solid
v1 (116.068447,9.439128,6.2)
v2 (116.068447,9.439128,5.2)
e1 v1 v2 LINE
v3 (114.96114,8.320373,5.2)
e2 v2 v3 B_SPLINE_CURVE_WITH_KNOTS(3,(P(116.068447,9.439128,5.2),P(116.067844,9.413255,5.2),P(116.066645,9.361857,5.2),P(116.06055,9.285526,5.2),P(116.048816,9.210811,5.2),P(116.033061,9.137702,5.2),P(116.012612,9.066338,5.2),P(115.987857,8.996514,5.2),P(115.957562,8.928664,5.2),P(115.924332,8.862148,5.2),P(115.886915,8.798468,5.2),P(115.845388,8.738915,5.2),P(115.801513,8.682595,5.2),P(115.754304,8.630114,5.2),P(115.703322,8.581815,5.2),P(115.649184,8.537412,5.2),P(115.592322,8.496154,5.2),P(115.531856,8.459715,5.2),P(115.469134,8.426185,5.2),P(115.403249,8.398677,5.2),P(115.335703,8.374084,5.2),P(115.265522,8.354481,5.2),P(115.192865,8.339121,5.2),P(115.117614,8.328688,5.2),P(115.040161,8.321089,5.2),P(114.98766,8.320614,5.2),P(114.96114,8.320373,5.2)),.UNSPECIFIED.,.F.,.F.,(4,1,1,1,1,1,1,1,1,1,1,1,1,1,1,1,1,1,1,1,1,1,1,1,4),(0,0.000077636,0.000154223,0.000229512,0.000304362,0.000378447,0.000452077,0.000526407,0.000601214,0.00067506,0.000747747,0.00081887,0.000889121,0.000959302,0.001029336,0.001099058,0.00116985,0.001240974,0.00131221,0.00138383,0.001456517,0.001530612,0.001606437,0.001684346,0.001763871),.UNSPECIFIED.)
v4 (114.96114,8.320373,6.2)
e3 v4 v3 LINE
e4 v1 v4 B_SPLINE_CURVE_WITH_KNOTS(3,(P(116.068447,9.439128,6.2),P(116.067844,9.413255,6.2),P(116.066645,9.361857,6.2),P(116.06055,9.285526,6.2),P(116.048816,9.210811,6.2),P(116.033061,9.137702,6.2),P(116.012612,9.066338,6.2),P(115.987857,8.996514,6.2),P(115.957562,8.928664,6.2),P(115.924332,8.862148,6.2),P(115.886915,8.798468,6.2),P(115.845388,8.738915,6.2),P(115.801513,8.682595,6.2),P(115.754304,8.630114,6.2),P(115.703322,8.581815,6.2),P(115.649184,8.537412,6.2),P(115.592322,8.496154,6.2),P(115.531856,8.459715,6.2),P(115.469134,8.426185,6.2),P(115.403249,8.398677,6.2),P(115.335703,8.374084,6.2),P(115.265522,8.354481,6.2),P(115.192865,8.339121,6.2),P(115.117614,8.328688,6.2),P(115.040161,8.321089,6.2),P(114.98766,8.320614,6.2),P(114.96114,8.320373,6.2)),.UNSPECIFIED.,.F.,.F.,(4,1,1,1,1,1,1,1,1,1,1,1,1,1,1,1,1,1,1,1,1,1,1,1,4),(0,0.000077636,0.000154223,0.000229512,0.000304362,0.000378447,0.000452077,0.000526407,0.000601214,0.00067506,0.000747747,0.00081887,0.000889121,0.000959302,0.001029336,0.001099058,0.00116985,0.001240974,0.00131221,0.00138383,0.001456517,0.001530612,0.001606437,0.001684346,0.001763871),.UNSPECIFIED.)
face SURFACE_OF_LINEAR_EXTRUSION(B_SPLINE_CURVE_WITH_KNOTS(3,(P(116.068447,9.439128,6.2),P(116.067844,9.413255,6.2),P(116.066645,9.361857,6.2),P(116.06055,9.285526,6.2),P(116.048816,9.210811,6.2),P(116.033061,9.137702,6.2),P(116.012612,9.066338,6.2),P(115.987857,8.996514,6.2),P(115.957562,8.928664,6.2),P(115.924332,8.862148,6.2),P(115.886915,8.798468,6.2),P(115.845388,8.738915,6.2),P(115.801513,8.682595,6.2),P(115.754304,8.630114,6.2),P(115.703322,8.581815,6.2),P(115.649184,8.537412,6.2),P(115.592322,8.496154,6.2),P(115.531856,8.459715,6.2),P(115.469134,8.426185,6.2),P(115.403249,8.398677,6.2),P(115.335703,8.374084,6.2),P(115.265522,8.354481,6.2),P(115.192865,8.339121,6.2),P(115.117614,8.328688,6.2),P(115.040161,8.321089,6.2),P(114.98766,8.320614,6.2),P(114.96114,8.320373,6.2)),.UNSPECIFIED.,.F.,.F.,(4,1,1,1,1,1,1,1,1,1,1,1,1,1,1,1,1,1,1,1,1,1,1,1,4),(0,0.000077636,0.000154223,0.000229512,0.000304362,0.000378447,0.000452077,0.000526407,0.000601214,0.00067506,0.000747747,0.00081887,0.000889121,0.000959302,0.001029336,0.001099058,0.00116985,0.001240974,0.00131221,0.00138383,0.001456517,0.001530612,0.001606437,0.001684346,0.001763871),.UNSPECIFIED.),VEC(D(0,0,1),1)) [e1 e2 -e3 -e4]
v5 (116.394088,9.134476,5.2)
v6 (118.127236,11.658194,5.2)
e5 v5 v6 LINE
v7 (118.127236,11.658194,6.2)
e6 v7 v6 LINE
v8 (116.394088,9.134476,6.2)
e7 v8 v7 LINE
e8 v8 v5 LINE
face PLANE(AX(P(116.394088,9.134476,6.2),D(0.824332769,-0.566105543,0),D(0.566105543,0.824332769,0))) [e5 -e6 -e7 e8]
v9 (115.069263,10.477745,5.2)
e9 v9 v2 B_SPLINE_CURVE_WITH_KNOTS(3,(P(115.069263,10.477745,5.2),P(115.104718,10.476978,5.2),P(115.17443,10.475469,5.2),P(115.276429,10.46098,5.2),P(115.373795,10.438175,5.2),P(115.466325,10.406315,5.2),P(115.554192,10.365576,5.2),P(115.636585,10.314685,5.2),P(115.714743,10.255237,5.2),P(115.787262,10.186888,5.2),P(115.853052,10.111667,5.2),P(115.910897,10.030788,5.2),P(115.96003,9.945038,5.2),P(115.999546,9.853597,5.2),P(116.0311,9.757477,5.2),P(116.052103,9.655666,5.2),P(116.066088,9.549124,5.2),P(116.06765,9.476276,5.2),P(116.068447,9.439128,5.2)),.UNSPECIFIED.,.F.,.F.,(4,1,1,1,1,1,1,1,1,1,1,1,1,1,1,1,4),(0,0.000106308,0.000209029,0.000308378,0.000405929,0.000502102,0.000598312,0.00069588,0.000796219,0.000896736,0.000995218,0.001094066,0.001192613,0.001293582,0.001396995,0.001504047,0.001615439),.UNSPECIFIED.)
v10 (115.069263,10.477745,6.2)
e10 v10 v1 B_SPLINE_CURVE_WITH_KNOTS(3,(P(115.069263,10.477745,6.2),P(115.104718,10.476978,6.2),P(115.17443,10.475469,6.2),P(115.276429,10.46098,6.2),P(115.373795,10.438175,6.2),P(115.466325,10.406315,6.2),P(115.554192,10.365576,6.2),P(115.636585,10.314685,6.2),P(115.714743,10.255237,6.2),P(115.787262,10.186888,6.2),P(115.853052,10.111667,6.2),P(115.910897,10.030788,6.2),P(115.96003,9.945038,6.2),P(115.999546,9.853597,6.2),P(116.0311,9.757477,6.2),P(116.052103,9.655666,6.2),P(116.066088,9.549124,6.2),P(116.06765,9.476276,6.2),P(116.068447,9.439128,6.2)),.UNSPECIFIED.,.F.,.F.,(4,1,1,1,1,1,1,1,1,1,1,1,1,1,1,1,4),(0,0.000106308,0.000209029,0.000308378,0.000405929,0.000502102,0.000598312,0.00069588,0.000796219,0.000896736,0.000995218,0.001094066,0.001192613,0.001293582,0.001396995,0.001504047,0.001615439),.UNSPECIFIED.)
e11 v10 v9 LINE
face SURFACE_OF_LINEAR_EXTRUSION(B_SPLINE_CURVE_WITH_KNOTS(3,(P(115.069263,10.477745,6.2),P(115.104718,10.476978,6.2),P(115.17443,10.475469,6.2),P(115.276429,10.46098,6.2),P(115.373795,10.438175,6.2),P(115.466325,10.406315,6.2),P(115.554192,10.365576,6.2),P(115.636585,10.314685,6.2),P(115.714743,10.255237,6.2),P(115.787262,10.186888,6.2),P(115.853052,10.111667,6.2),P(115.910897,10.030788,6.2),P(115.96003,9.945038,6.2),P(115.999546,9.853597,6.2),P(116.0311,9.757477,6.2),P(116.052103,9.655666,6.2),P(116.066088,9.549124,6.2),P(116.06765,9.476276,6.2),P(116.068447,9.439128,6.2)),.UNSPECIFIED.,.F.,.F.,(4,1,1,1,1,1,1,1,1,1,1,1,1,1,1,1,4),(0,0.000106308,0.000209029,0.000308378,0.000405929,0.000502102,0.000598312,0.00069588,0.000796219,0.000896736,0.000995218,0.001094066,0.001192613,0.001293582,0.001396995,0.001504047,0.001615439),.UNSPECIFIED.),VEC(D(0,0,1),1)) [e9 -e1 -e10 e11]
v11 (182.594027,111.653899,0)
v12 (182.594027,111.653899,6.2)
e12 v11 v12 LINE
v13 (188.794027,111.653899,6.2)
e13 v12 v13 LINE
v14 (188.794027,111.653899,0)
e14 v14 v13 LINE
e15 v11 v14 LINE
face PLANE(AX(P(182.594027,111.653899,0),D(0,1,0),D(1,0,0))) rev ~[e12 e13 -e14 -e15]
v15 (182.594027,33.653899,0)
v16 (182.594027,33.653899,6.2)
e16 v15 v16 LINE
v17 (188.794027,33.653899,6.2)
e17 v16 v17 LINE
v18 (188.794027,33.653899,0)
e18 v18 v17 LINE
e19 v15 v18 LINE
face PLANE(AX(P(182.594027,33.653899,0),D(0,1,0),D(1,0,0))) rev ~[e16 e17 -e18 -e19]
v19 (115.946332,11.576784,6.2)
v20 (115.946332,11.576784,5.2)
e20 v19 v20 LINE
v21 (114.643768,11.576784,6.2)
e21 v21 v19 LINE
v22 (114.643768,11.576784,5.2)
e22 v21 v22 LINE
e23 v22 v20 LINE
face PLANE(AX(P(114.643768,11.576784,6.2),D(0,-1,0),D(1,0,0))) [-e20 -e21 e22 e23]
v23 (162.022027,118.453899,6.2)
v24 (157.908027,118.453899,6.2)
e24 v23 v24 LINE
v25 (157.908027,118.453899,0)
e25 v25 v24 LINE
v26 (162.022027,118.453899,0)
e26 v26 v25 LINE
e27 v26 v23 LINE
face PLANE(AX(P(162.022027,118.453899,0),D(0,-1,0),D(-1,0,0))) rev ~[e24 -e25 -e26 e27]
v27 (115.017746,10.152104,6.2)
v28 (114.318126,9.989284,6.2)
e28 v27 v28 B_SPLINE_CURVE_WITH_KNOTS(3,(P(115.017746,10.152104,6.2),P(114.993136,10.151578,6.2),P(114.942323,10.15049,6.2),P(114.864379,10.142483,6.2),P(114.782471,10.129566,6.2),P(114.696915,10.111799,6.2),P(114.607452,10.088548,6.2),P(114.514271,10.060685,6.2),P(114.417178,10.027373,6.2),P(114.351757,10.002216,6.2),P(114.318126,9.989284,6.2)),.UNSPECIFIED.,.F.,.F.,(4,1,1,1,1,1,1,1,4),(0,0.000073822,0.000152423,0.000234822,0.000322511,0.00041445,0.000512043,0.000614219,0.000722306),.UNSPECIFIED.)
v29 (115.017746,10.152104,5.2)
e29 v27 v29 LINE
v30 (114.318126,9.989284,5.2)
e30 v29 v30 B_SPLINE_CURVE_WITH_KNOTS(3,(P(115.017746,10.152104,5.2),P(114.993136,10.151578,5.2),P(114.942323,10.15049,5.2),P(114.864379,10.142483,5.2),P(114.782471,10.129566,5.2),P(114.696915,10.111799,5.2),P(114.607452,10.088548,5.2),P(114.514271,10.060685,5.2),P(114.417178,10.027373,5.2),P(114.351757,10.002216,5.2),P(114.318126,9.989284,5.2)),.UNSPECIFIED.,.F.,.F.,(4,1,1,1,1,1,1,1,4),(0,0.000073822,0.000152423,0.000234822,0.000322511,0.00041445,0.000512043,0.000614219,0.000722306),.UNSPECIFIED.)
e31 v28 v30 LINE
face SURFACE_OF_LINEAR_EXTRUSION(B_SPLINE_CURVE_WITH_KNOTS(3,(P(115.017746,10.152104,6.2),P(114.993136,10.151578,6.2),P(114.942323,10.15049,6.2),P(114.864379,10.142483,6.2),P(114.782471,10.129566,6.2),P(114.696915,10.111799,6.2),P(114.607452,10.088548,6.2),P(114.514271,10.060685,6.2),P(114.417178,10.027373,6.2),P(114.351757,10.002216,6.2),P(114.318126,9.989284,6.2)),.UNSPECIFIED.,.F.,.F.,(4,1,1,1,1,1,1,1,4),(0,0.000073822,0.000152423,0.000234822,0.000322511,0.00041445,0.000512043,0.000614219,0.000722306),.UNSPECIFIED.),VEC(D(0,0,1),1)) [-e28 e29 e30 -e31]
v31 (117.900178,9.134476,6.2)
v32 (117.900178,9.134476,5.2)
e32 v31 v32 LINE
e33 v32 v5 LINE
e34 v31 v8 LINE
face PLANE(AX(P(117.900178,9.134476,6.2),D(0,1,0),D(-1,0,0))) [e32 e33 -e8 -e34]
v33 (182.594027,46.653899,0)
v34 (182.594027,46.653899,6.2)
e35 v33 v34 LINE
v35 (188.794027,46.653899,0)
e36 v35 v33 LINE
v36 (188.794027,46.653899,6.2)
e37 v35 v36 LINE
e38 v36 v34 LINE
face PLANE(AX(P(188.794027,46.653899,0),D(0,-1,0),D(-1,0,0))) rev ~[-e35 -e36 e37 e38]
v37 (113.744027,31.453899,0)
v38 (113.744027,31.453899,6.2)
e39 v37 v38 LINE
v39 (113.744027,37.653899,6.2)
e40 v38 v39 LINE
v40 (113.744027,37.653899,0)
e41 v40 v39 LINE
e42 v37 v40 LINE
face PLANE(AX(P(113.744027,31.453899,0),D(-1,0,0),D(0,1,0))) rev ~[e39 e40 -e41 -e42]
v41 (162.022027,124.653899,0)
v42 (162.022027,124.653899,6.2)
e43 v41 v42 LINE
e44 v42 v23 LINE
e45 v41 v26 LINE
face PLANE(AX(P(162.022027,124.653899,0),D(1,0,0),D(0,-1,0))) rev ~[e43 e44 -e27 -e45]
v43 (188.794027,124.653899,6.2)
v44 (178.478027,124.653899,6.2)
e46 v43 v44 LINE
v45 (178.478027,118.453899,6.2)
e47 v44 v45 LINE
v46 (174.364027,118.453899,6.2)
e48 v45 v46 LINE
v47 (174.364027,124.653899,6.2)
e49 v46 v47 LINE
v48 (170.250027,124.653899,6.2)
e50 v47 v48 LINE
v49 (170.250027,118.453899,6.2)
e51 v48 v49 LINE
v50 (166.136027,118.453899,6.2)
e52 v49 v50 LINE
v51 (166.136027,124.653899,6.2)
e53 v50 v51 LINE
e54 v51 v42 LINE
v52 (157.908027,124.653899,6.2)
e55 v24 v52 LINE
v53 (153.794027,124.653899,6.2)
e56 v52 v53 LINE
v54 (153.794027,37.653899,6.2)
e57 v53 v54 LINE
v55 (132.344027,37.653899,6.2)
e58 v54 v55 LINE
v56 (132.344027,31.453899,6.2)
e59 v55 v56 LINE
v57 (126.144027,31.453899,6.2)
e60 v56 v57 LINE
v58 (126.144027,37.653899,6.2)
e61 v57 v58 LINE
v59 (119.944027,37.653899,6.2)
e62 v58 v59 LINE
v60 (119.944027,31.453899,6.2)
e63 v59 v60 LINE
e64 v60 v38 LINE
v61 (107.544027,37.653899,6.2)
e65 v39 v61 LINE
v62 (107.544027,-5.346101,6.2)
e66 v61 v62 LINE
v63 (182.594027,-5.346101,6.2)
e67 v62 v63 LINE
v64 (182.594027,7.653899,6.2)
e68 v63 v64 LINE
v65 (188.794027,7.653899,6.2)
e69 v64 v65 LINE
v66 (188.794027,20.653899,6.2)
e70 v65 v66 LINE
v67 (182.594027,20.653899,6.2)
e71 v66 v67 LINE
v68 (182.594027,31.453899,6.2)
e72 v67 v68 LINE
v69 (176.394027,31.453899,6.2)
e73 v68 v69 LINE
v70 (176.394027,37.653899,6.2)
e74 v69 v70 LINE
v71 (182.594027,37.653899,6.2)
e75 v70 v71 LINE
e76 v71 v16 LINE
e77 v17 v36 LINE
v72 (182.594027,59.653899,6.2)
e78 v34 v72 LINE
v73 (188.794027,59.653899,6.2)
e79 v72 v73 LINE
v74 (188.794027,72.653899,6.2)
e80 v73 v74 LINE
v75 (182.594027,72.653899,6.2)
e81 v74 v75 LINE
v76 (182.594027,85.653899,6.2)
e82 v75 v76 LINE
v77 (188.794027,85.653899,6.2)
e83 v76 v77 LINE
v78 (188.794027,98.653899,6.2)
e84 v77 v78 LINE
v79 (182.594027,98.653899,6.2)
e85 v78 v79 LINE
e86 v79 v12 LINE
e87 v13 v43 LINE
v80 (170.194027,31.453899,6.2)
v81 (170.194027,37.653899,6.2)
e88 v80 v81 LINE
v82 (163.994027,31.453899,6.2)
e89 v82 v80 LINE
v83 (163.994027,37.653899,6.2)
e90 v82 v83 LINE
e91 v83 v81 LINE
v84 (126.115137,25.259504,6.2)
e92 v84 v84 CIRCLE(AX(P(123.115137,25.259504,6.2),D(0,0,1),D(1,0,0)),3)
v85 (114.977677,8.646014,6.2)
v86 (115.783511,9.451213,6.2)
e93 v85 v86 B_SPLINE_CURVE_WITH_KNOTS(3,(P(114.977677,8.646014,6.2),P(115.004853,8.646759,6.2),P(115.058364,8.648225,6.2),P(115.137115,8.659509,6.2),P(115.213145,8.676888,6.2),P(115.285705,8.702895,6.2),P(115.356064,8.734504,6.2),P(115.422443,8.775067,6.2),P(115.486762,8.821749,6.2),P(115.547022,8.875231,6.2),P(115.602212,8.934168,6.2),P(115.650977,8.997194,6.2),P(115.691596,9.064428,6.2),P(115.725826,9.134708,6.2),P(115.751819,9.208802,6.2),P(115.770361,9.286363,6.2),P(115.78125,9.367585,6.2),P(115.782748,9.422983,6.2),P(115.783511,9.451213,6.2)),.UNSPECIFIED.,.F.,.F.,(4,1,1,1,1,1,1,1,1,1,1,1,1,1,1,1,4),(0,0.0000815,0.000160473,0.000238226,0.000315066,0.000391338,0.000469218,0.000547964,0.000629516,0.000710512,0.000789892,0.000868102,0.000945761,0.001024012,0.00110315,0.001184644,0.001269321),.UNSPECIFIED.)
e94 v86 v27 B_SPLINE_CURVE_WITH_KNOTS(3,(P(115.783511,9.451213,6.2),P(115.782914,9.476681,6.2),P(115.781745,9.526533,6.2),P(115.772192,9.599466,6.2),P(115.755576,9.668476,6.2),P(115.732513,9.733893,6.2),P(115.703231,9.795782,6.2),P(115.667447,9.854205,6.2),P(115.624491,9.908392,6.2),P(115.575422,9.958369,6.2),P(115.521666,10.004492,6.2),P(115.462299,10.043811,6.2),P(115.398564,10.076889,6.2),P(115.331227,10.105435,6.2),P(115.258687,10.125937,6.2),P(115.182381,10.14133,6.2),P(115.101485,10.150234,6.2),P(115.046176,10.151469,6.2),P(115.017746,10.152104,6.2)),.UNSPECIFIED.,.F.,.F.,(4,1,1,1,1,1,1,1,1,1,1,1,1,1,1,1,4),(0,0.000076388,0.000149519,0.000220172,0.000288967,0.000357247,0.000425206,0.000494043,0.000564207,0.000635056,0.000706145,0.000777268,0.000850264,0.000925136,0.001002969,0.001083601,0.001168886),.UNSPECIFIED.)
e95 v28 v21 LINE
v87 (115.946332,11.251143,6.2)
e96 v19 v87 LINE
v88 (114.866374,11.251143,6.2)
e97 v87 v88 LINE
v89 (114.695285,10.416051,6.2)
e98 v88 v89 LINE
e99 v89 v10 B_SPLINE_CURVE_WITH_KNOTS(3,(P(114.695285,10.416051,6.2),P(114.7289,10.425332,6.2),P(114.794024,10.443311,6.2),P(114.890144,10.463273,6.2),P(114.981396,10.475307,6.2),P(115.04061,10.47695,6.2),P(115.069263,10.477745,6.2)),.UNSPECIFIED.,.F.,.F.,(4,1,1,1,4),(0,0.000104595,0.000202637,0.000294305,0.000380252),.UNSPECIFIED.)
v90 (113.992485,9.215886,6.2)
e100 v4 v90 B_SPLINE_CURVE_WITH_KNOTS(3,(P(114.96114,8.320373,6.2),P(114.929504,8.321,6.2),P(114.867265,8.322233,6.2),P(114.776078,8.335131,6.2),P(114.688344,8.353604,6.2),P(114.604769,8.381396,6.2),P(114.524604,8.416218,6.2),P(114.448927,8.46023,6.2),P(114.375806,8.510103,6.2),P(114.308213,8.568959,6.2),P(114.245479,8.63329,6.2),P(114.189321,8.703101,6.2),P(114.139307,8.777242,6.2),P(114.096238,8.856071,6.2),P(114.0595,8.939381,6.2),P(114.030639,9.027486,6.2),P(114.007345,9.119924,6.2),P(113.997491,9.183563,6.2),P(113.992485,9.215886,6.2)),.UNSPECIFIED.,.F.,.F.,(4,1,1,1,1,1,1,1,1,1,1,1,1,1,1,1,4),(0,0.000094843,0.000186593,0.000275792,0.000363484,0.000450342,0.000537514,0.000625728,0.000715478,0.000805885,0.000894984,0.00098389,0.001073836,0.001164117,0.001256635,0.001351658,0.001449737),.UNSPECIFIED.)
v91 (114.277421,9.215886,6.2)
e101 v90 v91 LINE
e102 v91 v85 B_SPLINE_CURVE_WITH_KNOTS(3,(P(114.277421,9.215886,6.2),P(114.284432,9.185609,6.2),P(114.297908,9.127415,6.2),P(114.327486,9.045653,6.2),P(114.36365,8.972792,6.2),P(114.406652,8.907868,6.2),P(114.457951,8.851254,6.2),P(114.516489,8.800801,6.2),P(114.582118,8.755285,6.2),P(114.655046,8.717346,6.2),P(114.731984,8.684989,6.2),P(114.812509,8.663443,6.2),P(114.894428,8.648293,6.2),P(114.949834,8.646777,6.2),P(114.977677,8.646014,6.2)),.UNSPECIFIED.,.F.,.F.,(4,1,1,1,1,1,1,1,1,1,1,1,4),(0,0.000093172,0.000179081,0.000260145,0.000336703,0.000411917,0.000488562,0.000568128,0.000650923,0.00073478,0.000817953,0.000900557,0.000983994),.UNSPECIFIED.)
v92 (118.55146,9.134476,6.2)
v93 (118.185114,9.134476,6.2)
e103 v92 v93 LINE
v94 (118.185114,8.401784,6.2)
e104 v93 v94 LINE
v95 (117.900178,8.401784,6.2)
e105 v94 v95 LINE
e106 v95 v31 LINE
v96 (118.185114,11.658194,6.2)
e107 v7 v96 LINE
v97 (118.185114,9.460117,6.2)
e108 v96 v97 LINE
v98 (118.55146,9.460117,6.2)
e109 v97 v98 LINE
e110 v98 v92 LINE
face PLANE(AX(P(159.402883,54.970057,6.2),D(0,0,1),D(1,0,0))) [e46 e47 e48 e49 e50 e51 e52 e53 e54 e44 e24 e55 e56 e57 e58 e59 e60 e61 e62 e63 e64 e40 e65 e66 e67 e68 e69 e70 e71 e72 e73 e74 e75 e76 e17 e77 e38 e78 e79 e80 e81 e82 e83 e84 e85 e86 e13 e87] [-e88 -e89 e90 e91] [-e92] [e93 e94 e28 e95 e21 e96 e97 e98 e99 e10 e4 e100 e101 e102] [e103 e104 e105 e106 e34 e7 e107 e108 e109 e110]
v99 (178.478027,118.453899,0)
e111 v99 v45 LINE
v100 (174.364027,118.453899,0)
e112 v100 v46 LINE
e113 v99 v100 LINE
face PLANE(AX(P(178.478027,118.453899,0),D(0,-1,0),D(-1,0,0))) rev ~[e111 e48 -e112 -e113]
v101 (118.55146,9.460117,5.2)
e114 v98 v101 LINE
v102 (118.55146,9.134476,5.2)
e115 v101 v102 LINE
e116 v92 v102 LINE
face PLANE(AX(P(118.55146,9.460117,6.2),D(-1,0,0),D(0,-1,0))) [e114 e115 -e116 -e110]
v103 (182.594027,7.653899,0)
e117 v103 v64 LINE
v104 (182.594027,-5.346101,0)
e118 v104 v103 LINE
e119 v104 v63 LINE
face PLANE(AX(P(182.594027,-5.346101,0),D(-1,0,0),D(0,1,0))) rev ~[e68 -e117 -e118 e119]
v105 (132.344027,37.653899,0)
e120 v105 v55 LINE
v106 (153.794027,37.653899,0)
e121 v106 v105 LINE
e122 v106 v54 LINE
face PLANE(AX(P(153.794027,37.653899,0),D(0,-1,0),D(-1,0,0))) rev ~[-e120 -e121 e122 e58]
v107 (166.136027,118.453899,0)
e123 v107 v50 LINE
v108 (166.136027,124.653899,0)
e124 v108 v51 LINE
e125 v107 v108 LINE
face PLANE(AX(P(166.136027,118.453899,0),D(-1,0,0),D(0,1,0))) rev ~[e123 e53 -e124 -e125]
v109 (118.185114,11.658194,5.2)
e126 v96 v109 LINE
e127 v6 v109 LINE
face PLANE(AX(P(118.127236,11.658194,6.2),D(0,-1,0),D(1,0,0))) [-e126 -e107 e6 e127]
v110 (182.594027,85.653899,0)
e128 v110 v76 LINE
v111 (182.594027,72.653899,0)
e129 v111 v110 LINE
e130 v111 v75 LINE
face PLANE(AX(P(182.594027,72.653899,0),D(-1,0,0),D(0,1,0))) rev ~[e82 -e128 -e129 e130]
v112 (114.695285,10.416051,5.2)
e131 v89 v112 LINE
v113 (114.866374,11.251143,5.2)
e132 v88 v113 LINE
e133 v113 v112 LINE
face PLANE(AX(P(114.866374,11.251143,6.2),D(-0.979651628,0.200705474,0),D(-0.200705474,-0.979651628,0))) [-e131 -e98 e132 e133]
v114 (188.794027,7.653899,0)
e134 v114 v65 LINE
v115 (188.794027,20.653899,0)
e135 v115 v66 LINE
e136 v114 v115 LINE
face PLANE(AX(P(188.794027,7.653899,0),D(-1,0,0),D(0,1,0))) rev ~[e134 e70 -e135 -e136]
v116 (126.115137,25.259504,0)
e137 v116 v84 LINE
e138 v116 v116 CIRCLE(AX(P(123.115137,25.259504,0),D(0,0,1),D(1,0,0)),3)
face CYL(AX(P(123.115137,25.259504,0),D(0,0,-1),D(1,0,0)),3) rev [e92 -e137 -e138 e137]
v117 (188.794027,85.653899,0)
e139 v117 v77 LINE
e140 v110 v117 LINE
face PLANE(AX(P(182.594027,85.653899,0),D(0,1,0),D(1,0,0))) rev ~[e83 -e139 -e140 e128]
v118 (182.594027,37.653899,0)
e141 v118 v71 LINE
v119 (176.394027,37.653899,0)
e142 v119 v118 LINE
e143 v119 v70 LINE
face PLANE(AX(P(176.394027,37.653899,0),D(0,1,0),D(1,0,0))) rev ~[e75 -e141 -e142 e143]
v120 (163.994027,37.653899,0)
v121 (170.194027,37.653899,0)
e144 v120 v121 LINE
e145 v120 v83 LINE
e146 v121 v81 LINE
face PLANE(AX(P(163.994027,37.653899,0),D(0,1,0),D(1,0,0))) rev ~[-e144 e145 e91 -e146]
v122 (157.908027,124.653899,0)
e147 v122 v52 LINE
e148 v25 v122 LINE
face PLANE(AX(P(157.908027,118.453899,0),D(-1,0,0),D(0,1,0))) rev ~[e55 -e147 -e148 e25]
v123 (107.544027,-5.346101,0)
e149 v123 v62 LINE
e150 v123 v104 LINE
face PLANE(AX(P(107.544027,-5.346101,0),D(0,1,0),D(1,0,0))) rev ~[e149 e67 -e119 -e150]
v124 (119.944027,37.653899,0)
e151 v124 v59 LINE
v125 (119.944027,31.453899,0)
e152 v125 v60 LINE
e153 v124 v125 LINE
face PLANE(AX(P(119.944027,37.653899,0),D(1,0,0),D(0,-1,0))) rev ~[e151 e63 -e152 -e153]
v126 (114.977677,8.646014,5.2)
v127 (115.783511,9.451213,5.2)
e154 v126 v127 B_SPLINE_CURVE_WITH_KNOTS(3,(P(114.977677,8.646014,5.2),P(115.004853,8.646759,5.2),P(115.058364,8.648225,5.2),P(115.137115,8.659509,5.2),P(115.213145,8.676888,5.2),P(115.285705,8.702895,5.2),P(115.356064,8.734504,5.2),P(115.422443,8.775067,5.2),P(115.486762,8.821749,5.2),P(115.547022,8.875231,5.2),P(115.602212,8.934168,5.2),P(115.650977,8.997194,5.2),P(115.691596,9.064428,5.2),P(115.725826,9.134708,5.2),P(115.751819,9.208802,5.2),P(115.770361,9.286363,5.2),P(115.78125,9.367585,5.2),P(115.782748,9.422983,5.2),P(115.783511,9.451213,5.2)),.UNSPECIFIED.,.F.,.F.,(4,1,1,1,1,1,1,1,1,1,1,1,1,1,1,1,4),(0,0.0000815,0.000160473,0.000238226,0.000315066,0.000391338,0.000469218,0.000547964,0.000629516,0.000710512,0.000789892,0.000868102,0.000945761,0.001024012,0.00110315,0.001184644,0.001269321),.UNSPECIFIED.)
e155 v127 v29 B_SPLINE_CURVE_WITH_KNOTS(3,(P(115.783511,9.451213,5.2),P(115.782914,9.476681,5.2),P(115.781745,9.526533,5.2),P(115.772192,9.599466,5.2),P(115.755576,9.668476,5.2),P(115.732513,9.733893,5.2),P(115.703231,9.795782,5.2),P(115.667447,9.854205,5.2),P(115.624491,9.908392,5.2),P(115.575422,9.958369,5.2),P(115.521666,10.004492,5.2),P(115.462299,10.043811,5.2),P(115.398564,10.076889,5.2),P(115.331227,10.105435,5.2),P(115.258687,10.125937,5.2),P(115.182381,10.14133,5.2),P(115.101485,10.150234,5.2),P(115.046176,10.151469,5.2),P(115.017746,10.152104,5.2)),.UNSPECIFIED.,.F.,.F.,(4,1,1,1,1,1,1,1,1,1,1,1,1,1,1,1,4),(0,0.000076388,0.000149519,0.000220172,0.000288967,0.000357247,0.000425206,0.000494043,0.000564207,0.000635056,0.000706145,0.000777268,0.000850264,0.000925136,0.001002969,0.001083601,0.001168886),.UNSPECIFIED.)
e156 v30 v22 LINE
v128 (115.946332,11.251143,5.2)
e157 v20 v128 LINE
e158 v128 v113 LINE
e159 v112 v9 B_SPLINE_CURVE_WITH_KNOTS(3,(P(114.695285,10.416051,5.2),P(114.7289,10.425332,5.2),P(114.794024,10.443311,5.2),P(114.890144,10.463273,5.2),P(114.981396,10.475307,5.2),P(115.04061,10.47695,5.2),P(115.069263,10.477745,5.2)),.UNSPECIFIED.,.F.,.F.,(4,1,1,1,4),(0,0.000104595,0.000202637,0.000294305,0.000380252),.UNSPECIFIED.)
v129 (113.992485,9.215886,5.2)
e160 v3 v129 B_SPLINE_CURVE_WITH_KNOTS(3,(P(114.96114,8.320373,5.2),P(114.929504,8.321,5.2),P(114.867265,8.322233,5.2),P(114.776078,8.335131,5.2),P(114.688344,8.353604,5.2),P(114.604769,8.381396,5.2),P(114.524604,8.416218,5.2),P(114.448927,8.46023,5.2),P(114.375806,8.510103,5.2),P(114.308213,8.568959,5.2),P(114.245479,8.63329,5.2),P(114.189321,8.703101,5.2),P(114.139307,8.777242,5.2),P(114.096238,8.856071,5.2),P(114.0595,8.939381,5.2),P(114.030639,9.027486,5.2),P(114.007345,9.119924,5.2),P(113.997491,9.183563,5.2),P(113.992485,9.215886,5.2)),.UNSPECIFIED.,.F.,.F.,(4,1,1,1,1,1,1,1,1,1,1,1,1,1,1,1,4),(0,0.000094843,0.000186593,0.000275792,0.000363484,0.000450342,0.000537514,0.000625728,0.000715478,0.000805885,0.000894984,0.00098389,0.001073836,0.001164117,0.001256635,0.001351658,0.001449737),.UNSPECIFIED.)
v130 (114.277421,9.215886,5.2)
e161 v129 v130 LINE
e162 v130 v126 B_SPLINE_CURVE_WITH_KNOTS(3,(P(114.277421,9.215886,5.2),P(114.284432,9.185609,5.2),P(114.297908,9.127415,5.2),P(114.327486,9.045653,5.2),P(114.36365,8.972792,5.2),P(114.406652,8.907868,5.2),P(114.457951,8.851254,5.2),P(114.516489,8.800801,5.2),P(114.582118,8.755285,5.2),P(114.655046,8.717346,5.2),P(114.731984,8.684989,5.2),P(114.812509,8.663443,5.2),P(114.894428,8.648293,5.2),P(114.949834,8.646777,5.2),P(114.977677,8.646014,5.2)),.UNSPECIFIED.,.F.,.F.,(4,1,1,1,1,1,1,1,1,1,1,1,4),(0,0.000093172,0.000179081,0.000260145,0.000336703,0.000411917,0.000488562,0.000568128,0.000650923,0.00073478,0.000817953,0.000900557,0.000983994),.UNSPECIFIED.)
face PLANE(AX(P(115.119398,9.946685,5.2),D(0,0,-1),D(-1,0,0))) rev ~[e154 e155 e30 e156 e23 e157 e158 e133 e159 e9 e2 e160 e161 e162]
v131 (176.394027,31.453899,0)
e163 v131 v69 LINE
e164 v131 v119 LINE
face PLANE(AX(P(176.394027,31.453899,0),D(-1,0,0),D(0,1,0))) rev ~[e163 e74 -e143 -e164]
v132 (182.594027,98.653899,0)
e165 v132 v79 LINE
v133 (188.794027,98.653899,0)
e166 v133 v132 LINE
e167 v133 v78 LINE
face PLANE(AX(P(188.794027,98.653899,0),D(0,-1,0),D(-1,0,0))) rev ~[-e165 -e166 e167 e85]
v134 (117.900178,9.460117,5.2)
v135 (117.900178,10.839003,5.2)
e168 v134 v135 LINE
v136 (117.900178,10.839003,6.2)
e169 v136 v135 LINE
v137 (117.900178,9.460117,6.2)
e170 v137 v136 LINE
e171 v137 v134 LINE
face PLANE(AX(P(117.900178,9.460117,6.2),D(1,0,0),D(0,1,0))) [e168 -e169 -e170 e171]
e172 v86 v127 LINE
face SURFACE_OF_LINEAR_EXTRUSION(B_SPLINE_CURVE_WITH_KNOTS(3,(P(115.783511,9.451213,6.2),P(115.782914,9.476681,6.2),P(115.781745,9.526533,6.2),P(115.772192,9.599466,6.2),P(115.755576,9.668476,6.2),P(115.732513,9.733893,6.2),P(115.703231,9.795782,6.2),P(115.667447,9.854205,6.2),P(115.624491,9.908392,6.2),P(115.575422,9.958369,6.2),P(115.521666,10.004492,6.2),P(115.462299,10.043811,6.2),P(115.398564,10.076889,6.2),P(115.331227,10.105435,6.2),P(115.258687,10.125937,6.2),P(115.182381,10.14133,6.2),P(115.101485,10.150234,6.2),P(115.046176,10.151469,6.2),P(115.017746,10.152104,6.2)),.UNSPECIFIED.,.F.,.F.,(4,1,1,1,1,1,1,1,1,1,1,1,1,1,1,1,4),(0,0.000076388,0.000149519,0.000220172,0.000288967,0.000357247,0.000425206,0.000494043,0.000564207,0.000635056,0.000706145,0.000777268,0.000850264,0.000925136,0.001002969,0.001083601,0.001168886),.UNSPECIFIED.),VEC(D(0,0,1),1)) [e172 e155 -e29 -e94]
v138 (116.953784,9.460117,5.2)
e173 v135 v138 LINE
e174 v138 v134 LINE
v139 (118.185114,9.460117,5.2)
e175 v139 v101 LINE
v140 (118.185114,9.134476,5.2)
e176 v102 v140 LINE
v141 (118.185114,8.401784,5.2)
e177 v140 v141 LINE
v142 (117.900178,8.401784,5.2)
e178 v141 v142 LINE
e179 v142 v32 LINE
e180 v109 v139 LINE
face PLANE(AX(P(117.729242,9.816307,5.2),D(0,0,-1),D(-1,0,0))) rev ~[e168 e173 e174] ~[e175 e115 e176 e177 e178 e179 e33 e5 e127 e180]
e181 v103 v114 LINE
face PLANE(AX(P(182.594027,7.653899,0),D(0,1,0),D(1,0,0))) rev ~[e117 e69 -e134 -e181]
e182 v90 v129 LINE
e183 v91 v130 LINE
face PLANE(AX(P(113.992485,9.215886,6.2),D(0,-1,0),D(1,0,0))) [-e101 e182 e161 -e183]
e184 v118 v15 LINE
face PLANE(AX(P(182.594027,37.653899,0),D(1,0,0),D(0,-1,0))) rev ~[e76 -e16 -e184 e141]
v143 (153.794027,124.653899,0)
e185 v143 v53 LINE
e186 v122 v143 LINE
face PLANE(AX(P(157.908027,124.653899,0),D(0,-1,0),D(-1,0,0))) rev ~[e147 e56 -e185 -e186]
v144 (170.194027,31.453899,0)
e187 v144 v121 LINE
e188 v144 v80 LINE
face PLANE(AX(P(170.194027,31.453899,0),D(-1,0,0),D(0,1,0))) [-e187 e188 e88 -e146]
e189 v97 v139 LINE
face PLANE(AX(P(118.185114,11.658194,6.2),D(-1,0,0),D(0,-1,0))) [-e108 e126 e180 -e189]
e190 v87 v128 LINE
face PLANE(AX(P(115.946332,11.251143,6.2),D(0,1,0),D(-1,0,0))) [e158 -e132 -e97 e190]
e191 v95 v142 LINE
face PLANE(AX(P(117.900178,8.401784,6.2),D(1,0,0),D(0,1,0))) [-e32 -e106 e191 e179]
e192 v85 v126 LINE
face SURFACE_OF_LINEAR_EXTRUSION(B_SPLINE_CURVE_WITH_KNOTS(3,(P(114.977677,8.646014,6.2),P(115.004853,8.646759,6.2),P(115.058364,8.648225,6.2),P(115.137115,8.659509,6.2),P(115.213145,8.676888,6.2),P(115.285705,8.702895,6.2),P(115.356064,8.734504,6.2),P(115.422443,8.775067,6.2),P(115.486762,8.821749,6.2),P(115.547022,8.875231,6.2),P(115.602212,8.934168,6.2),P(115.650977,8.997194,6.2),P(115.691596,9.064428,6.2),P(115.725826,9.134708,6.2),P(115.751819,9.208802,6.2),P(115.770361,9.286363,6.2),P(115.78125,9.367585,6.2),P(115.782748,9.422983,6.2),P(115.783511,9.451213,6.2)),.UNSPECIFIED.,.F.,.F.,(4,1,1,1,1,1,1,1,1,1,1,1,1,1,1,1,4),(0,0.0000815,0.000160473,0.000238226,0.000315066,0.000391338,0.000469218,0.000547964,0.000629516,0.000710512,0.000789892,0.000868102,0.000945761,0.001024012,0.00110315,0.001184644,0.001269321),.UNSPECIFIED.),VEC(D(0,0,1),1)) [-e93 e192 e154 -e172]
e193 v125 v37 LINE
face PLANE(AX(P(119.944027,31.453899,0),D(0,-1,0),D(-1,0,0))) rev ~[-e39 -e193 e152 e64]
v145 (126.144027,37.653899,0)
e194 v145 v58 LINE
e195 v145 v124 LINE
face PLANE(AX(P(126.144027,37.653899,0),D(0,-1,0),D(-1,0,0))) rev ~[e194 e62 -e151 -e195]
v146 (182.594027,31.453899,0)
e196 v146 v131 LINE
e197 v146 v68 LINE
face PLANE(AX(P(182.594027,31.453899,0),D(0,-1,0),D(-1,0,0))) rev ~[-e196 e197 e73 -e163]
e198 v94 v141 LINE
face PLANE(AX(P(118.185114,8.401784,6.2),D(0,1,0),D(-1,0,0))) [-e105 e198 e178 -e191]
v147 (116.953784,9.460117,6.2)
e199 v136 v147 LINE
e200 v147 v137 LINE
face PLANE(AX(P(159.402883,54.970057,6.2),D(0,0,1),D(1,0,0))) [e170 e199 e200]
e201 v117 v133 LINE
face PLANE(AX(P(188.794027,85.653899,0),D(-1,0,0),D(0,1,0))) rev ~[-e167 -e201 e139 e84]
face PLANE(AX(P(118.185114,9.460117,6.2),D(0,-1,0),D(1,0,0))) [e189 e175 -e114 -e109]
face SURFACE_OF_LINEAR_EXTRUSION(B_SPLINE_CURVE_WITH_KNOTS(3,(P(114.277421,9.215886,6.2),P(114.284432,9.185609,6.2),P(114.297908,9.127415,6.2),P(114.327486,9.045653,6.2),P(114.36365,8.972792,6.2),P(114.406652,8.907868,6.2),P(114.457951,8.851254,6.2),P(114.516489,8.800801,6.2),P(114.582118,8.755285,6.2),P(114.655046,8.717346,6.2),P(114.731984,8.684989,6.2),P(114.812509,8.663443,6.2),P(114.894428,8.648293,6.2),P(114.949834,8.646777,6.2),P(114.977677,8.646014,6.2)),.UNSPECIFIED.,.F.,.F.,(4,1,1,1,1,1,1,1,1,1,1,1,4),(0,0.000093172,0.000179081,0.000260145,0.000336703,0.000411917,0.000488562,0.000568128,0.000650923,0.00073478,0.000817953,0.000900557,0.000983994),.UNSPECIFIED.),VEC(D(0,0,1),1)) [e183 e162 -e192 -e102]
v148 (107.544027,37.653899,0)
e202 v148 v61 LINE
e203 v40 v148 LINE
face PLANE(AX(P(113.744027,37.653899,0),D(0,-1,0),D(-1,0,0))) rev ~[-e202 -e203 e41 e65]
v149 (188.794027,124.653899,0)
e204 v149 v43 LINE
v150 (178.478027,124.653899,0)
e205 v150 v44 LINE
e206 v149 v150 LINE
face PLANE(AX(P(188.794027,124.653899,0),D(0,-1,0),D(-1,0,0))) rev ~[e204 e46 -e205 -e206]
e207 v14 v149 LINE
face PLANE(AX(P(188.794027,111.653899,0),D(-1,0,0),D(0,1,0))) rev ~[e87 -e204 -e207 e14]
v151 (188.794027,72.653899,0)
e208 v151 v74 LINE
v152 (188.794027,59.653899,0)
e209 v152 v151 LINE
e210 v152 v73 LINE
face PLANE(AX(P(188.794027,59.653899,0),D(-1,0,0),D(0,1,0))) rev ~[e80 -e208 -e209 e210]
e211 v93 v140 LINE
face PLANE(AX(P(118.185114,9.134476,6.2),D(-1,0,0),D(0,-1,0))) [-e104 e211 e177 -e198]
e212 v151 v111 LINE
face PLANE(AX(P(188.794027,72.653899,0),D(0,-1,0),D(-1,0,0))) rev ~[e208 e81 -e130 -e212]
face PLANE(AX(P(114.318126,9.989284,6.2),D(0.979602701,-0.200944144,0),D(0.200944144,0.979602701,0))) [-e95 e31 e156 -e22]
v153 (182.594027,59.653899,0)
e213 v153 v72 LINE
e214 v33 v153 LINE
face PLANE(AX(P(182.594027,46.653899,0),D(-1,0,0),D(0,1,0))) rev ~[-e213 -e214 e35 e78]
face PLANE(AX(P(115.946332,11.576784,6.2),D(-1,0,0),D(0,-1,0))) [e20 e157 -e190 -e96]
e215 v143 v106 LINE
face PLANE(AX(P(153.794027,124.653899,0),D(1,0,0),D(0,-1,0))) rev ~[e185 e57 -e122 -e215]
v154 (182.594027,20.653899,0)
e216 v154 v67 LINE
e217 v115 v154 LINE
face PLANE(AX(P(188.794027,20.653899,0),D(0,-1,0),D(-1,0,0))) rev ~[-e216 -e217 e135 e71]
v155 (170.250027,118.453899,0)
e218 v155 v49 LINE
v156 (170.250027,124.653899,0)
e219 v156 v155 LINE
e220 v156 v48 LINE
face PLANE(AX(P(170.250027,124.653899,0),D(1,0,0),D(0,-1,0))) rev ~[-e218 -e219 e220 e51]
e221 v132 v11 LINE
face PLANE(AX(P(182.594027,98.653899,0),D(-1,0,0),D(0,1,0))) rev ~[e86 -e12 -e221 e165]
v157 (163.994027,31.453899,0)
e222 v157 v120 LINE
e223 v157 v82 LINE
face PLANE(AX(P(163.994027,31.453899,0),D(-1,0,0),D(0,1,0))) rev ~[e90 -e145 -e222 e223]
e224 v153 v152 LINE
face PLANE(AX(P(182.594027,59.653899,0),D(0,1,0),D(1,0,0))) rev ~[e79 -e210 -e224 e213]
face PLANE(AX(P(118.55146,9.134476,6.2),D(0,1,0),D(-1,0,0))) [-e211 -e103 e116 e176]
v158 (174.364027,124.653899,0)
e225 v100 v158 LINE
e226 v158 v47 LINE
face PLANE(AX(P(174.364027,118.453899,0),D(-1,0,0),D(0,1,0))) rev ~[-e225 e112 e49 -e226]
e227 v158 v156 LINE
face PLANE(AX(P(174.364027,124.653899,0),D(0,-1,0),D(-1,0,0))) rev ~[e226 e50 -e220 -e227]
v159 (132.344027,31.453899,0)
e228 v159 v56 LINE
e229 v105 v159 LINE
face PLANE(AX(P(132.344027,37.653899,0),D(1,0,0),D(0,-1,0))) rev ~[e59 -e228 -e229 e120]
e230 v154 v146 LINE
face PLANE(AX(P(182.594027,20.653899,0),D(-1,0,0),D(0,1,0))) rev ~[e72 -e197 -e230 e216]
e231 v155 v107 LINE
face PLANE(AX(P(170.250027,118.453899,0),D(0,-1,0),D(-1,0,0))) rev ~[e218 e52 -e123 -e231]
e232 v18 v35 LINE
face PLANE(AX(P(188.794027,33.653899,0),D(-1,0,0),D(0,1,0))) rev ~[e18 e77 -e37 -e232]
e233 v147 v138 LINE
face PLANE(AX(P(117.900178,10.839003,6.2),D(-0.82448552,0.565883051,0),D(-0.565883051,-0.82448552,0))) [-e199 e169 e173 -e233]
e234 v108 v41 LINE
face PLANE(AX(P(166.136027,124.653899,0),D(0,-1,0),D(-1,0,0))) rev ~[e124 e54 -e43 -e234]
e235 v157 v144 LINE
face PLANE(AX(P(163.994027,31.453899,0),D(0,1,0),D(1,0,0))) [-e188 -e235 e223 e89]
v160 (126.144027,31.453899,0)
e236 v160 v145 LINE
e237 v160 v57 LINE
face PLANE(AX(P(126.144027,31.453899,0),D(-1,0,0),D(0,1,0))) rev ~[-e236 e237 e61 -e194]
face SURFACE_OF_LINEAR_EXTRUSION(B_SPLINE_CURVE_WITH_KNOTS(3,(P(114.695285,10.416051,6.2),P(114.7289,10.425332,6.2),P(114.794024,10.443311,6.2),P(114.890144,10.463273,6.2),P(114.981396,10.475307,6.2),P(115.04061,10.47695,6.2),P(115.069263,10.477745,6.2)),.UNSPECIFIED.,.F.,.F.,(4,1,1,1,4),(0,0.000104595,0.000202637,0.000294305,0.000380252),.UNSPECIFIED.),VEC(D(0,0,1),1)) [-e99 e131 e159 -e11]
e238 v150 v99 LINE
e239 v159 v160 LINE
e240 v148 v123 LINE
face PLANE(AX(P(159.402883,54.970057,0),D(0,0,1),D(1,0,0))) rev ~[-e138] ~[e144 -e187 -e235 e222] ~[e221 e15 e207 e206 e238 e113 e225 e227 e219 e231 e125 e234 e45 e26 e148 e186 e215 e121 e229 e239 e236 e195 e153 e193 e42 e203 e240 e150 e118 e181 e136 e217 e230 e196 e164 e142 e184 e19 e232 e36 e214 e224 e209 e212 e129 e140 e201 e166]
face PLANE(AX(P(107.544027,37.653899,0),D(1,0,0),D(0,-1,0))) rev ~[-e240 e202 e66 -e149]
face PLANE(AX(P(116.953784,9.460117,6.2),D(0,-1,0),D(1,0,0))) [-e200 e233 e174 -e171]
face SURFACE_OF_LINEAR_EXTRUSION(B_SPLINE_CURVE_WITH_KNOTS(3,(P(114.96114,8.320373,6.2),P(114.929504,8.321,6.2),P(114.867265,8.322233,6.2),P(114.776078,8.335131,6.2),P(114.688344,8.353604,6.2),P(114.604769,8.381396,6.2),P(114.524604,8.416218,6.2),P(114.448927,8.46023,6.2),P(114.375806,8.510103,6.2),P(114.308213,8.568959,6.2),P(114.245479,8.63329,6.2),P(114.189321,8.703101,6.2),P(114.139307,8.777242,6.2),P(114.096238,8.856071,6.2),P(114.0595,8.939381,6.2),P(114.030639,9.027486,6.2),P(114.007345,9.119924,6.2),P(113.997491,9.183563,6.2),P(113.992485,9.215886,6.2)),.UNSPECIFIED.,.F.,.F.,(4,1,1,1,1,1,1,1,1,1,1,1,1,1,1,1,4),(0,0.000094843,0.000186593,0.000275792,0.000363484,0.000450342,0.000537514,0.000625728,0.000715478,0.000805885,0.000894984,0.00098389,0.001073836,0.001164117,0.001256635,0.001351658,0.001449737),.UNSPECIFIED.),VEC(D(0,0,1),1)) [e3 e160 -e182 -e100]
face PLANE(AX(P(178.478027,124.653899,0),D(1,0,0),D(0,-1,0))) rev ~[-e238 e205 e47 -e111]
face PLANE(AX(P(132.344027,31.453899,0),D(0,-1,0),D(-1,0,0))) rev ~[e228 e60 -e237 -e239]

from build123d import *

# Parameters (mm, degrees)
SKETCH6_R           = 3
SKETCH6_W           = 6.2
SKETCH6_H           = 6.2
BOSS_EXTRUDE4_DEPTH = 6.2
CUT_EXTRUDE3_DEPTH  = 1


with BuildPart() as part:
    # Sketch6 → Boss-Extrude4 (new body)
    with BuildSketch(Plane.XY):
        Polygon((157.908027241, 124.653899243), (153.794027241, 124.653899243), (153.794027241, 37.653899243), (132.344027241, 37.653899243), (132.344027241, 31.453899243), (126.144027241, 31.453899243), (126.144027241, 37.653899243), (119.944027241, 37.653899243), (119.944027241, 31.453899243), (113.744027241, 31.453899243), (113.744027241, 37.653899243), (107.544027241, 37.653899243), (107.544027241, -5.346100757), (182.594027241, -5.346100757), (182.594027241, 7.653899243), (188.794027241, 7.653899243), (188.794027241, 20.653899243), (182.594027241, 20.653899243), (182.594027241, 31.453899243), (176.394027241, 31.453899243), (176.394027241, 37.653899243), (182.594027241, 37.653899243), (182.594027241, 33.653899243), (188.794027241, 33.653899243), (188.794027241, 46.653899243), (182.594027241, 46.653899243), (182.594027241, 59.653899243), (188.794027241, 59.653899243), (188.794027241, 72.653899243), (182.594027241, 72.653899243), (182.594027241, 85.653899243), (188.794027241, 85.653899243), (188.794027241, 98.653899243), (182.594027241, 98.653899243), (182.594027241, 111.653899243), (188.794027241, 111.653899243), (188.794027241, 124.653899243), (178.478027241, 124.653899243), (178.478027241, 118.453899243), (174.364027241, 118.453899243), (174.364027241, 124.653899243), (170.250027241, 124.653899243), (170.250027241, 118.453899243), (166.136027241, 118.453899243), (166.136027241, 124.653899243), (162.022027241, 124.653899243), (162.022027241, 118.453899243), (157.908027241, 118.453899243), align=None)
        with Locations((123.115137004, 25.259504391)):
            Circle(SKETCH6_R, mode=Mode.SUBTRACT)
        with Locations((167.094027241, 34.553899243)):
            Rectangle(SKETCH6_W, SKETCH6_H, mode=Mode.SUBTRACT)
    extrude(amount=BOSS_EXTRUDE4_DEPTH)

    # Sketch7 → Cut-Extrude3 (cut)
    with BuildSketch(Plane.XY.offset(6.2)):
        with BuildLine():
            Line((115.946331614, 11.576783669), (115.946331614, 11.251142644))
            Line((115.946331614, 11.251142644), (114.866373682, 11.251142644))
            Line((114.866373682, 11.251142644), (114.69528494, 10.416051498))
            add(Edge.make_bspline(
                [(114.69528494, 10.416051498), (114.728899911, 10.425331816), (114.794023603, 10.443310964), (114.890144334, 10.463273342), (114.981395832, 10.475306994), (115.040609919, 10.476950112), (115.069263305, 10.477745208)],
                knots=[0, 0, 0, 0, 0.000104595, 0.000202637, 0.000294305, 0.000380252, 0.000380252, 0.000380252, 0.000380252], degree=3))
            add(Edge.make_bspline(
                [(115.069263305, 10.477745208), (115.10471784, 10.476977823), (115.174430315, 10.475468954), (115.276428503, 10.460980204), (115.37379477, 10.43817471), (115.466325492, 10.40631538), (115.554191848, 10.365575836), (115.636585422, 10.314685176), (115.714742957, 10.255237083), (115.78726231, 10.186888393), (115.853052218, 10.111666641), (115.910897081, 10.030787715), (115.960030287, 9.945037622), (115.999546115, 9.853597069), (116.031100475, 9.75747698), (116.052102642, 9.655665995), (116.0660878, 9.549123772), (116.06765025, 9.476276054), (116.068446999, 9.439128421)],
                knots=[0, 0, 0, 0, 0.000106308, 0.000209029, 0.000308378, 0.000405929, 0.000502102, 0.000598312, 0.00069588, 0.000796219, 0.000896736, 0.000995218, 0.001094066, 0.001192613, 0.001293582, 0.001396995, 0.001504047, 0.001615439, 0.001615439, 0.001615439, 0.001615439], degree=3))
            add(Edge.make_bspline(
                [(116.068446999, 9.439128421), (116.067843681, 9.413254692), (116.066645197, 9.361856897), (116.060550479, 9.285526086), (116.048815936, 9.21081123), (116.033060929, 9.137702418), (116.012611736, 9.066338059), (115.987856666, 8.996513887), (115.957561698, 8.928664494), (115.924331807, 8.862147885), (115.886915359, 8.798467811), (115.845387713, 8.738914802), (115.801513304, 8.682595489), (115.754304332, 8.630113888), (115.703322001, 8.581814865), (115.649183746, 8.537411781), (115.592321565, 8.496153717), (115.531855738, 8.459715426), (115.469133628, 8.426184744), (115.40324946, 8.398676964), (115.335702967, 8.374083842), (115.265521973, 8.354480913), (115.192865443, 8.339120668), (115.117613611, 8.32868798), (115.040161146, 8.321089354), (114.987660242, 8.320613688), (114.961140308, 8.320373413)],
                knots=[0, 0, 0, 0, 7.7636e-05, 0.000154223, 0.000229512, 0.000304362, 0.000378447, 0.000452077, 0.000526407, 0.000601214, 0.00067506, 0.000747747, 0.00081887, 0.000889121, 0.000959302, 0.001029336, 0.001099058, 0.00116985, 0.001240974, 0.00131221, 0.00138383, 0.001456517, 0.001530612, 0.001606437, 0.001684346, 0.001763871, 0.001763871, 0.001763871, 0.001763871], degree=3))
            add(Edge.make_bspline(
                [(114.961140308, 8.320373413), (114.929504444, 8.321000102), (114.867264619, 8.322233038), (114.776078105, 8.335131235), (114.688344141, 8.353604216), (114.604768978, 8.38139569), (114.524603617, 8.41621845), (114.448927295, 8.460229548), (114.375806341, 8.51010345), (114.308213279, 8.568959198), (114.245478804, 8.633289853), (114.189320757, 8.703101427), (114.139306727, 8.777241707), (114.096237628, 8.856070747), (114.059500137, 8.939381414), (114.030639398, 9.02748585), (114.007345461, 9.119923711), (113.997490787, 9.183562967), (113.99248546, 9.215886233)],
                knots=[0, 0, 0, 0, 9.4843e-05, 0.000186593, 0.000275792, 0.000363484, 0.000450342, 0.000537514, 0.000625728, 0.000715478, 0.000805885, 0.000894984, 0.00098389, 0.001073836, 0.001164117, 0.001256635, 0.001351658, 0.001449737, 0.001449737, 0.001449737, 0.001449737], degree=3))
            Line((113.99248546, 9.215886233), (114.277421358, 9.215886233))
            add(Edge.make_bspline(
                [(114.277421358, 9.215886233), (114.284432264, 9.185609023), (114.297907613, 9.127414543), (114.327485686, 9.045652541), (114.36364973, 8.972791531), (114.406652246, 8.907867695), (114.457951202, 8.851253818), (114.516488613, 8.800801198), (114.582118333, 8.755285188), (114.655046477, 8.717345963), (114.731984056, 8.684989308), (114.812508596, 8.663443128), (114.894427539, 8.648293032), (114.949834347, 8.646776506), (114.977676767, 8.646014439)],
                knots=[0, 0, 0, 0, 9.3172e-05, 0.000179081, 0.000260145, 0.000336703, 0.000411917, 0.000488562, 0.000568128, 0.000650923, 0.00073478, 0.000817953, 0.000900557, 0.000983994, 0.000983994, 0.000983994, 0.000983994], degree=3))
            add(Edge.make_bspline(
                [(114.977676767, 8.646014439), (115.004853355, 8.646759001), (115.058364281, 8.648225052), (115.137114611, 8.659509013), (115.213144861, 8.676887667), (115.28570482, 8.702895321), (115.356064217, 8.734504458), (115.42244328, 8.77506742), (115.486762318, 8.821749008), (115.547022125, 8.875231094), (115.602212197, 8.934167888), (115.650976678, 8.997193809), (115.691595736, 9.064428377), (115.725825963, 9.134707595), (115.751818598, 9.208801714), (115.770361488, 9.286363495), (115.781249978, 9.367584512), (115.782747834, 9.4229831), (115.783511101, 9.451212756)],
                knots=[0, 0, 0, 0, 8.15e-05, 0.000160473, 0.000238226, 0.000315066, 0.000391338, 0.000469218, 0.000547964, 0.000629516, 0.000710512, 0.000789892, 0.000868102, 0.000945761, 0.001024012, 0.00110315, 0.001184644, 0.001269321, 0.001269321, 0.001269321, 0.001269321], degree=3))
            add(Edge.make_bspline(
                [(115.783511101, 9.451212756), (115.782913767, 9.476681473), (115.781744568, 9.526532864), (115.772191837, 9.59946643), (115.755575726, 9.668475547), (115.732512635, 9.733893459), (115.70323051, 9.795781868), (115.66744707, 9.854204644), (115.624490773, 9.908391764), (115.575421703, 9.95836858), (115.521666194, 10.004492145), (115.46229937, 10.043811424), (115.39856358, 10.076889406), (115.331226729, 10.105435376), (115.258687142, 10.125937481), (115.18238134, 10.141329777), (115.101485326, 10.150233713), (115.046176202, 10.15146914), (115.017745877, 10.152104182)],
                knots=[0, 0, 0, 0, 7.6388e-05, 0.000149519, 0.000220172, 0.000288967, 0.000357247, 0.000425206, 0.000494043, 0.000564207, 0.000635056, 0.000706145, 0.000777268, 0.000850264, 0.000925136, 0.001002969, 0.001083601, 0.001168886, 0.001168886, 0.001168886, 0.001168886], degree=3))
            add(Edge.make_bspline(
                [(115.017745877, 10.152104182), (114.993136063, 10.151577503), (114.942323041, 10.150490044), (114.864378762, 10.142483151), (114.782471271, 10.129566076), (114.69691455, 10.111798552), (114.60745166, 10.088547504), (114.514271397, 10.060685064), (114.417177841, 10.027372965), (114.351756762, 10.002215885), (114.318126486, 9.989283669)],
                knots=[0, 0, 0, 0, 7.3822e-05, 0.000152423, 0.000234822, 0.000322511, 0.00041445, 0.000512043, 0.000614219, 0.000722306, 0.000722306, 0.000722306, 0.000722306], degree=3))
            Line((114.318126486, 9.989283669), (114.643767512, 11.576783669))
            Line((114.643767512, 11.576783669), (115.946331614, 11.576783669))
        make_face()
        Polygon((118.127236061, 11.658193926), (118.185113666, 11.658193926), (118.185113666, 9.460117003), (118.551459819, 9.460117003), (118.551459819, 9.134475977), (118.185113666, 9.134475977), (118.185113666, 8.401783669), (117.900177768, 8.401783669), (117.900177768, 9.134475977), (116.394088025, 9.134475977), align=None)
        Polygon((117.900177768, 9.460117003), (117.900177768, 10.839003221), (116.953783537, 9.460117003), align=None, mode=Mode.SUBTRACT)
    extrude(amount=-CUT_EXTRUDE3_DEPTH, mode=Mode.SUBTRACT)


solid = part.part
